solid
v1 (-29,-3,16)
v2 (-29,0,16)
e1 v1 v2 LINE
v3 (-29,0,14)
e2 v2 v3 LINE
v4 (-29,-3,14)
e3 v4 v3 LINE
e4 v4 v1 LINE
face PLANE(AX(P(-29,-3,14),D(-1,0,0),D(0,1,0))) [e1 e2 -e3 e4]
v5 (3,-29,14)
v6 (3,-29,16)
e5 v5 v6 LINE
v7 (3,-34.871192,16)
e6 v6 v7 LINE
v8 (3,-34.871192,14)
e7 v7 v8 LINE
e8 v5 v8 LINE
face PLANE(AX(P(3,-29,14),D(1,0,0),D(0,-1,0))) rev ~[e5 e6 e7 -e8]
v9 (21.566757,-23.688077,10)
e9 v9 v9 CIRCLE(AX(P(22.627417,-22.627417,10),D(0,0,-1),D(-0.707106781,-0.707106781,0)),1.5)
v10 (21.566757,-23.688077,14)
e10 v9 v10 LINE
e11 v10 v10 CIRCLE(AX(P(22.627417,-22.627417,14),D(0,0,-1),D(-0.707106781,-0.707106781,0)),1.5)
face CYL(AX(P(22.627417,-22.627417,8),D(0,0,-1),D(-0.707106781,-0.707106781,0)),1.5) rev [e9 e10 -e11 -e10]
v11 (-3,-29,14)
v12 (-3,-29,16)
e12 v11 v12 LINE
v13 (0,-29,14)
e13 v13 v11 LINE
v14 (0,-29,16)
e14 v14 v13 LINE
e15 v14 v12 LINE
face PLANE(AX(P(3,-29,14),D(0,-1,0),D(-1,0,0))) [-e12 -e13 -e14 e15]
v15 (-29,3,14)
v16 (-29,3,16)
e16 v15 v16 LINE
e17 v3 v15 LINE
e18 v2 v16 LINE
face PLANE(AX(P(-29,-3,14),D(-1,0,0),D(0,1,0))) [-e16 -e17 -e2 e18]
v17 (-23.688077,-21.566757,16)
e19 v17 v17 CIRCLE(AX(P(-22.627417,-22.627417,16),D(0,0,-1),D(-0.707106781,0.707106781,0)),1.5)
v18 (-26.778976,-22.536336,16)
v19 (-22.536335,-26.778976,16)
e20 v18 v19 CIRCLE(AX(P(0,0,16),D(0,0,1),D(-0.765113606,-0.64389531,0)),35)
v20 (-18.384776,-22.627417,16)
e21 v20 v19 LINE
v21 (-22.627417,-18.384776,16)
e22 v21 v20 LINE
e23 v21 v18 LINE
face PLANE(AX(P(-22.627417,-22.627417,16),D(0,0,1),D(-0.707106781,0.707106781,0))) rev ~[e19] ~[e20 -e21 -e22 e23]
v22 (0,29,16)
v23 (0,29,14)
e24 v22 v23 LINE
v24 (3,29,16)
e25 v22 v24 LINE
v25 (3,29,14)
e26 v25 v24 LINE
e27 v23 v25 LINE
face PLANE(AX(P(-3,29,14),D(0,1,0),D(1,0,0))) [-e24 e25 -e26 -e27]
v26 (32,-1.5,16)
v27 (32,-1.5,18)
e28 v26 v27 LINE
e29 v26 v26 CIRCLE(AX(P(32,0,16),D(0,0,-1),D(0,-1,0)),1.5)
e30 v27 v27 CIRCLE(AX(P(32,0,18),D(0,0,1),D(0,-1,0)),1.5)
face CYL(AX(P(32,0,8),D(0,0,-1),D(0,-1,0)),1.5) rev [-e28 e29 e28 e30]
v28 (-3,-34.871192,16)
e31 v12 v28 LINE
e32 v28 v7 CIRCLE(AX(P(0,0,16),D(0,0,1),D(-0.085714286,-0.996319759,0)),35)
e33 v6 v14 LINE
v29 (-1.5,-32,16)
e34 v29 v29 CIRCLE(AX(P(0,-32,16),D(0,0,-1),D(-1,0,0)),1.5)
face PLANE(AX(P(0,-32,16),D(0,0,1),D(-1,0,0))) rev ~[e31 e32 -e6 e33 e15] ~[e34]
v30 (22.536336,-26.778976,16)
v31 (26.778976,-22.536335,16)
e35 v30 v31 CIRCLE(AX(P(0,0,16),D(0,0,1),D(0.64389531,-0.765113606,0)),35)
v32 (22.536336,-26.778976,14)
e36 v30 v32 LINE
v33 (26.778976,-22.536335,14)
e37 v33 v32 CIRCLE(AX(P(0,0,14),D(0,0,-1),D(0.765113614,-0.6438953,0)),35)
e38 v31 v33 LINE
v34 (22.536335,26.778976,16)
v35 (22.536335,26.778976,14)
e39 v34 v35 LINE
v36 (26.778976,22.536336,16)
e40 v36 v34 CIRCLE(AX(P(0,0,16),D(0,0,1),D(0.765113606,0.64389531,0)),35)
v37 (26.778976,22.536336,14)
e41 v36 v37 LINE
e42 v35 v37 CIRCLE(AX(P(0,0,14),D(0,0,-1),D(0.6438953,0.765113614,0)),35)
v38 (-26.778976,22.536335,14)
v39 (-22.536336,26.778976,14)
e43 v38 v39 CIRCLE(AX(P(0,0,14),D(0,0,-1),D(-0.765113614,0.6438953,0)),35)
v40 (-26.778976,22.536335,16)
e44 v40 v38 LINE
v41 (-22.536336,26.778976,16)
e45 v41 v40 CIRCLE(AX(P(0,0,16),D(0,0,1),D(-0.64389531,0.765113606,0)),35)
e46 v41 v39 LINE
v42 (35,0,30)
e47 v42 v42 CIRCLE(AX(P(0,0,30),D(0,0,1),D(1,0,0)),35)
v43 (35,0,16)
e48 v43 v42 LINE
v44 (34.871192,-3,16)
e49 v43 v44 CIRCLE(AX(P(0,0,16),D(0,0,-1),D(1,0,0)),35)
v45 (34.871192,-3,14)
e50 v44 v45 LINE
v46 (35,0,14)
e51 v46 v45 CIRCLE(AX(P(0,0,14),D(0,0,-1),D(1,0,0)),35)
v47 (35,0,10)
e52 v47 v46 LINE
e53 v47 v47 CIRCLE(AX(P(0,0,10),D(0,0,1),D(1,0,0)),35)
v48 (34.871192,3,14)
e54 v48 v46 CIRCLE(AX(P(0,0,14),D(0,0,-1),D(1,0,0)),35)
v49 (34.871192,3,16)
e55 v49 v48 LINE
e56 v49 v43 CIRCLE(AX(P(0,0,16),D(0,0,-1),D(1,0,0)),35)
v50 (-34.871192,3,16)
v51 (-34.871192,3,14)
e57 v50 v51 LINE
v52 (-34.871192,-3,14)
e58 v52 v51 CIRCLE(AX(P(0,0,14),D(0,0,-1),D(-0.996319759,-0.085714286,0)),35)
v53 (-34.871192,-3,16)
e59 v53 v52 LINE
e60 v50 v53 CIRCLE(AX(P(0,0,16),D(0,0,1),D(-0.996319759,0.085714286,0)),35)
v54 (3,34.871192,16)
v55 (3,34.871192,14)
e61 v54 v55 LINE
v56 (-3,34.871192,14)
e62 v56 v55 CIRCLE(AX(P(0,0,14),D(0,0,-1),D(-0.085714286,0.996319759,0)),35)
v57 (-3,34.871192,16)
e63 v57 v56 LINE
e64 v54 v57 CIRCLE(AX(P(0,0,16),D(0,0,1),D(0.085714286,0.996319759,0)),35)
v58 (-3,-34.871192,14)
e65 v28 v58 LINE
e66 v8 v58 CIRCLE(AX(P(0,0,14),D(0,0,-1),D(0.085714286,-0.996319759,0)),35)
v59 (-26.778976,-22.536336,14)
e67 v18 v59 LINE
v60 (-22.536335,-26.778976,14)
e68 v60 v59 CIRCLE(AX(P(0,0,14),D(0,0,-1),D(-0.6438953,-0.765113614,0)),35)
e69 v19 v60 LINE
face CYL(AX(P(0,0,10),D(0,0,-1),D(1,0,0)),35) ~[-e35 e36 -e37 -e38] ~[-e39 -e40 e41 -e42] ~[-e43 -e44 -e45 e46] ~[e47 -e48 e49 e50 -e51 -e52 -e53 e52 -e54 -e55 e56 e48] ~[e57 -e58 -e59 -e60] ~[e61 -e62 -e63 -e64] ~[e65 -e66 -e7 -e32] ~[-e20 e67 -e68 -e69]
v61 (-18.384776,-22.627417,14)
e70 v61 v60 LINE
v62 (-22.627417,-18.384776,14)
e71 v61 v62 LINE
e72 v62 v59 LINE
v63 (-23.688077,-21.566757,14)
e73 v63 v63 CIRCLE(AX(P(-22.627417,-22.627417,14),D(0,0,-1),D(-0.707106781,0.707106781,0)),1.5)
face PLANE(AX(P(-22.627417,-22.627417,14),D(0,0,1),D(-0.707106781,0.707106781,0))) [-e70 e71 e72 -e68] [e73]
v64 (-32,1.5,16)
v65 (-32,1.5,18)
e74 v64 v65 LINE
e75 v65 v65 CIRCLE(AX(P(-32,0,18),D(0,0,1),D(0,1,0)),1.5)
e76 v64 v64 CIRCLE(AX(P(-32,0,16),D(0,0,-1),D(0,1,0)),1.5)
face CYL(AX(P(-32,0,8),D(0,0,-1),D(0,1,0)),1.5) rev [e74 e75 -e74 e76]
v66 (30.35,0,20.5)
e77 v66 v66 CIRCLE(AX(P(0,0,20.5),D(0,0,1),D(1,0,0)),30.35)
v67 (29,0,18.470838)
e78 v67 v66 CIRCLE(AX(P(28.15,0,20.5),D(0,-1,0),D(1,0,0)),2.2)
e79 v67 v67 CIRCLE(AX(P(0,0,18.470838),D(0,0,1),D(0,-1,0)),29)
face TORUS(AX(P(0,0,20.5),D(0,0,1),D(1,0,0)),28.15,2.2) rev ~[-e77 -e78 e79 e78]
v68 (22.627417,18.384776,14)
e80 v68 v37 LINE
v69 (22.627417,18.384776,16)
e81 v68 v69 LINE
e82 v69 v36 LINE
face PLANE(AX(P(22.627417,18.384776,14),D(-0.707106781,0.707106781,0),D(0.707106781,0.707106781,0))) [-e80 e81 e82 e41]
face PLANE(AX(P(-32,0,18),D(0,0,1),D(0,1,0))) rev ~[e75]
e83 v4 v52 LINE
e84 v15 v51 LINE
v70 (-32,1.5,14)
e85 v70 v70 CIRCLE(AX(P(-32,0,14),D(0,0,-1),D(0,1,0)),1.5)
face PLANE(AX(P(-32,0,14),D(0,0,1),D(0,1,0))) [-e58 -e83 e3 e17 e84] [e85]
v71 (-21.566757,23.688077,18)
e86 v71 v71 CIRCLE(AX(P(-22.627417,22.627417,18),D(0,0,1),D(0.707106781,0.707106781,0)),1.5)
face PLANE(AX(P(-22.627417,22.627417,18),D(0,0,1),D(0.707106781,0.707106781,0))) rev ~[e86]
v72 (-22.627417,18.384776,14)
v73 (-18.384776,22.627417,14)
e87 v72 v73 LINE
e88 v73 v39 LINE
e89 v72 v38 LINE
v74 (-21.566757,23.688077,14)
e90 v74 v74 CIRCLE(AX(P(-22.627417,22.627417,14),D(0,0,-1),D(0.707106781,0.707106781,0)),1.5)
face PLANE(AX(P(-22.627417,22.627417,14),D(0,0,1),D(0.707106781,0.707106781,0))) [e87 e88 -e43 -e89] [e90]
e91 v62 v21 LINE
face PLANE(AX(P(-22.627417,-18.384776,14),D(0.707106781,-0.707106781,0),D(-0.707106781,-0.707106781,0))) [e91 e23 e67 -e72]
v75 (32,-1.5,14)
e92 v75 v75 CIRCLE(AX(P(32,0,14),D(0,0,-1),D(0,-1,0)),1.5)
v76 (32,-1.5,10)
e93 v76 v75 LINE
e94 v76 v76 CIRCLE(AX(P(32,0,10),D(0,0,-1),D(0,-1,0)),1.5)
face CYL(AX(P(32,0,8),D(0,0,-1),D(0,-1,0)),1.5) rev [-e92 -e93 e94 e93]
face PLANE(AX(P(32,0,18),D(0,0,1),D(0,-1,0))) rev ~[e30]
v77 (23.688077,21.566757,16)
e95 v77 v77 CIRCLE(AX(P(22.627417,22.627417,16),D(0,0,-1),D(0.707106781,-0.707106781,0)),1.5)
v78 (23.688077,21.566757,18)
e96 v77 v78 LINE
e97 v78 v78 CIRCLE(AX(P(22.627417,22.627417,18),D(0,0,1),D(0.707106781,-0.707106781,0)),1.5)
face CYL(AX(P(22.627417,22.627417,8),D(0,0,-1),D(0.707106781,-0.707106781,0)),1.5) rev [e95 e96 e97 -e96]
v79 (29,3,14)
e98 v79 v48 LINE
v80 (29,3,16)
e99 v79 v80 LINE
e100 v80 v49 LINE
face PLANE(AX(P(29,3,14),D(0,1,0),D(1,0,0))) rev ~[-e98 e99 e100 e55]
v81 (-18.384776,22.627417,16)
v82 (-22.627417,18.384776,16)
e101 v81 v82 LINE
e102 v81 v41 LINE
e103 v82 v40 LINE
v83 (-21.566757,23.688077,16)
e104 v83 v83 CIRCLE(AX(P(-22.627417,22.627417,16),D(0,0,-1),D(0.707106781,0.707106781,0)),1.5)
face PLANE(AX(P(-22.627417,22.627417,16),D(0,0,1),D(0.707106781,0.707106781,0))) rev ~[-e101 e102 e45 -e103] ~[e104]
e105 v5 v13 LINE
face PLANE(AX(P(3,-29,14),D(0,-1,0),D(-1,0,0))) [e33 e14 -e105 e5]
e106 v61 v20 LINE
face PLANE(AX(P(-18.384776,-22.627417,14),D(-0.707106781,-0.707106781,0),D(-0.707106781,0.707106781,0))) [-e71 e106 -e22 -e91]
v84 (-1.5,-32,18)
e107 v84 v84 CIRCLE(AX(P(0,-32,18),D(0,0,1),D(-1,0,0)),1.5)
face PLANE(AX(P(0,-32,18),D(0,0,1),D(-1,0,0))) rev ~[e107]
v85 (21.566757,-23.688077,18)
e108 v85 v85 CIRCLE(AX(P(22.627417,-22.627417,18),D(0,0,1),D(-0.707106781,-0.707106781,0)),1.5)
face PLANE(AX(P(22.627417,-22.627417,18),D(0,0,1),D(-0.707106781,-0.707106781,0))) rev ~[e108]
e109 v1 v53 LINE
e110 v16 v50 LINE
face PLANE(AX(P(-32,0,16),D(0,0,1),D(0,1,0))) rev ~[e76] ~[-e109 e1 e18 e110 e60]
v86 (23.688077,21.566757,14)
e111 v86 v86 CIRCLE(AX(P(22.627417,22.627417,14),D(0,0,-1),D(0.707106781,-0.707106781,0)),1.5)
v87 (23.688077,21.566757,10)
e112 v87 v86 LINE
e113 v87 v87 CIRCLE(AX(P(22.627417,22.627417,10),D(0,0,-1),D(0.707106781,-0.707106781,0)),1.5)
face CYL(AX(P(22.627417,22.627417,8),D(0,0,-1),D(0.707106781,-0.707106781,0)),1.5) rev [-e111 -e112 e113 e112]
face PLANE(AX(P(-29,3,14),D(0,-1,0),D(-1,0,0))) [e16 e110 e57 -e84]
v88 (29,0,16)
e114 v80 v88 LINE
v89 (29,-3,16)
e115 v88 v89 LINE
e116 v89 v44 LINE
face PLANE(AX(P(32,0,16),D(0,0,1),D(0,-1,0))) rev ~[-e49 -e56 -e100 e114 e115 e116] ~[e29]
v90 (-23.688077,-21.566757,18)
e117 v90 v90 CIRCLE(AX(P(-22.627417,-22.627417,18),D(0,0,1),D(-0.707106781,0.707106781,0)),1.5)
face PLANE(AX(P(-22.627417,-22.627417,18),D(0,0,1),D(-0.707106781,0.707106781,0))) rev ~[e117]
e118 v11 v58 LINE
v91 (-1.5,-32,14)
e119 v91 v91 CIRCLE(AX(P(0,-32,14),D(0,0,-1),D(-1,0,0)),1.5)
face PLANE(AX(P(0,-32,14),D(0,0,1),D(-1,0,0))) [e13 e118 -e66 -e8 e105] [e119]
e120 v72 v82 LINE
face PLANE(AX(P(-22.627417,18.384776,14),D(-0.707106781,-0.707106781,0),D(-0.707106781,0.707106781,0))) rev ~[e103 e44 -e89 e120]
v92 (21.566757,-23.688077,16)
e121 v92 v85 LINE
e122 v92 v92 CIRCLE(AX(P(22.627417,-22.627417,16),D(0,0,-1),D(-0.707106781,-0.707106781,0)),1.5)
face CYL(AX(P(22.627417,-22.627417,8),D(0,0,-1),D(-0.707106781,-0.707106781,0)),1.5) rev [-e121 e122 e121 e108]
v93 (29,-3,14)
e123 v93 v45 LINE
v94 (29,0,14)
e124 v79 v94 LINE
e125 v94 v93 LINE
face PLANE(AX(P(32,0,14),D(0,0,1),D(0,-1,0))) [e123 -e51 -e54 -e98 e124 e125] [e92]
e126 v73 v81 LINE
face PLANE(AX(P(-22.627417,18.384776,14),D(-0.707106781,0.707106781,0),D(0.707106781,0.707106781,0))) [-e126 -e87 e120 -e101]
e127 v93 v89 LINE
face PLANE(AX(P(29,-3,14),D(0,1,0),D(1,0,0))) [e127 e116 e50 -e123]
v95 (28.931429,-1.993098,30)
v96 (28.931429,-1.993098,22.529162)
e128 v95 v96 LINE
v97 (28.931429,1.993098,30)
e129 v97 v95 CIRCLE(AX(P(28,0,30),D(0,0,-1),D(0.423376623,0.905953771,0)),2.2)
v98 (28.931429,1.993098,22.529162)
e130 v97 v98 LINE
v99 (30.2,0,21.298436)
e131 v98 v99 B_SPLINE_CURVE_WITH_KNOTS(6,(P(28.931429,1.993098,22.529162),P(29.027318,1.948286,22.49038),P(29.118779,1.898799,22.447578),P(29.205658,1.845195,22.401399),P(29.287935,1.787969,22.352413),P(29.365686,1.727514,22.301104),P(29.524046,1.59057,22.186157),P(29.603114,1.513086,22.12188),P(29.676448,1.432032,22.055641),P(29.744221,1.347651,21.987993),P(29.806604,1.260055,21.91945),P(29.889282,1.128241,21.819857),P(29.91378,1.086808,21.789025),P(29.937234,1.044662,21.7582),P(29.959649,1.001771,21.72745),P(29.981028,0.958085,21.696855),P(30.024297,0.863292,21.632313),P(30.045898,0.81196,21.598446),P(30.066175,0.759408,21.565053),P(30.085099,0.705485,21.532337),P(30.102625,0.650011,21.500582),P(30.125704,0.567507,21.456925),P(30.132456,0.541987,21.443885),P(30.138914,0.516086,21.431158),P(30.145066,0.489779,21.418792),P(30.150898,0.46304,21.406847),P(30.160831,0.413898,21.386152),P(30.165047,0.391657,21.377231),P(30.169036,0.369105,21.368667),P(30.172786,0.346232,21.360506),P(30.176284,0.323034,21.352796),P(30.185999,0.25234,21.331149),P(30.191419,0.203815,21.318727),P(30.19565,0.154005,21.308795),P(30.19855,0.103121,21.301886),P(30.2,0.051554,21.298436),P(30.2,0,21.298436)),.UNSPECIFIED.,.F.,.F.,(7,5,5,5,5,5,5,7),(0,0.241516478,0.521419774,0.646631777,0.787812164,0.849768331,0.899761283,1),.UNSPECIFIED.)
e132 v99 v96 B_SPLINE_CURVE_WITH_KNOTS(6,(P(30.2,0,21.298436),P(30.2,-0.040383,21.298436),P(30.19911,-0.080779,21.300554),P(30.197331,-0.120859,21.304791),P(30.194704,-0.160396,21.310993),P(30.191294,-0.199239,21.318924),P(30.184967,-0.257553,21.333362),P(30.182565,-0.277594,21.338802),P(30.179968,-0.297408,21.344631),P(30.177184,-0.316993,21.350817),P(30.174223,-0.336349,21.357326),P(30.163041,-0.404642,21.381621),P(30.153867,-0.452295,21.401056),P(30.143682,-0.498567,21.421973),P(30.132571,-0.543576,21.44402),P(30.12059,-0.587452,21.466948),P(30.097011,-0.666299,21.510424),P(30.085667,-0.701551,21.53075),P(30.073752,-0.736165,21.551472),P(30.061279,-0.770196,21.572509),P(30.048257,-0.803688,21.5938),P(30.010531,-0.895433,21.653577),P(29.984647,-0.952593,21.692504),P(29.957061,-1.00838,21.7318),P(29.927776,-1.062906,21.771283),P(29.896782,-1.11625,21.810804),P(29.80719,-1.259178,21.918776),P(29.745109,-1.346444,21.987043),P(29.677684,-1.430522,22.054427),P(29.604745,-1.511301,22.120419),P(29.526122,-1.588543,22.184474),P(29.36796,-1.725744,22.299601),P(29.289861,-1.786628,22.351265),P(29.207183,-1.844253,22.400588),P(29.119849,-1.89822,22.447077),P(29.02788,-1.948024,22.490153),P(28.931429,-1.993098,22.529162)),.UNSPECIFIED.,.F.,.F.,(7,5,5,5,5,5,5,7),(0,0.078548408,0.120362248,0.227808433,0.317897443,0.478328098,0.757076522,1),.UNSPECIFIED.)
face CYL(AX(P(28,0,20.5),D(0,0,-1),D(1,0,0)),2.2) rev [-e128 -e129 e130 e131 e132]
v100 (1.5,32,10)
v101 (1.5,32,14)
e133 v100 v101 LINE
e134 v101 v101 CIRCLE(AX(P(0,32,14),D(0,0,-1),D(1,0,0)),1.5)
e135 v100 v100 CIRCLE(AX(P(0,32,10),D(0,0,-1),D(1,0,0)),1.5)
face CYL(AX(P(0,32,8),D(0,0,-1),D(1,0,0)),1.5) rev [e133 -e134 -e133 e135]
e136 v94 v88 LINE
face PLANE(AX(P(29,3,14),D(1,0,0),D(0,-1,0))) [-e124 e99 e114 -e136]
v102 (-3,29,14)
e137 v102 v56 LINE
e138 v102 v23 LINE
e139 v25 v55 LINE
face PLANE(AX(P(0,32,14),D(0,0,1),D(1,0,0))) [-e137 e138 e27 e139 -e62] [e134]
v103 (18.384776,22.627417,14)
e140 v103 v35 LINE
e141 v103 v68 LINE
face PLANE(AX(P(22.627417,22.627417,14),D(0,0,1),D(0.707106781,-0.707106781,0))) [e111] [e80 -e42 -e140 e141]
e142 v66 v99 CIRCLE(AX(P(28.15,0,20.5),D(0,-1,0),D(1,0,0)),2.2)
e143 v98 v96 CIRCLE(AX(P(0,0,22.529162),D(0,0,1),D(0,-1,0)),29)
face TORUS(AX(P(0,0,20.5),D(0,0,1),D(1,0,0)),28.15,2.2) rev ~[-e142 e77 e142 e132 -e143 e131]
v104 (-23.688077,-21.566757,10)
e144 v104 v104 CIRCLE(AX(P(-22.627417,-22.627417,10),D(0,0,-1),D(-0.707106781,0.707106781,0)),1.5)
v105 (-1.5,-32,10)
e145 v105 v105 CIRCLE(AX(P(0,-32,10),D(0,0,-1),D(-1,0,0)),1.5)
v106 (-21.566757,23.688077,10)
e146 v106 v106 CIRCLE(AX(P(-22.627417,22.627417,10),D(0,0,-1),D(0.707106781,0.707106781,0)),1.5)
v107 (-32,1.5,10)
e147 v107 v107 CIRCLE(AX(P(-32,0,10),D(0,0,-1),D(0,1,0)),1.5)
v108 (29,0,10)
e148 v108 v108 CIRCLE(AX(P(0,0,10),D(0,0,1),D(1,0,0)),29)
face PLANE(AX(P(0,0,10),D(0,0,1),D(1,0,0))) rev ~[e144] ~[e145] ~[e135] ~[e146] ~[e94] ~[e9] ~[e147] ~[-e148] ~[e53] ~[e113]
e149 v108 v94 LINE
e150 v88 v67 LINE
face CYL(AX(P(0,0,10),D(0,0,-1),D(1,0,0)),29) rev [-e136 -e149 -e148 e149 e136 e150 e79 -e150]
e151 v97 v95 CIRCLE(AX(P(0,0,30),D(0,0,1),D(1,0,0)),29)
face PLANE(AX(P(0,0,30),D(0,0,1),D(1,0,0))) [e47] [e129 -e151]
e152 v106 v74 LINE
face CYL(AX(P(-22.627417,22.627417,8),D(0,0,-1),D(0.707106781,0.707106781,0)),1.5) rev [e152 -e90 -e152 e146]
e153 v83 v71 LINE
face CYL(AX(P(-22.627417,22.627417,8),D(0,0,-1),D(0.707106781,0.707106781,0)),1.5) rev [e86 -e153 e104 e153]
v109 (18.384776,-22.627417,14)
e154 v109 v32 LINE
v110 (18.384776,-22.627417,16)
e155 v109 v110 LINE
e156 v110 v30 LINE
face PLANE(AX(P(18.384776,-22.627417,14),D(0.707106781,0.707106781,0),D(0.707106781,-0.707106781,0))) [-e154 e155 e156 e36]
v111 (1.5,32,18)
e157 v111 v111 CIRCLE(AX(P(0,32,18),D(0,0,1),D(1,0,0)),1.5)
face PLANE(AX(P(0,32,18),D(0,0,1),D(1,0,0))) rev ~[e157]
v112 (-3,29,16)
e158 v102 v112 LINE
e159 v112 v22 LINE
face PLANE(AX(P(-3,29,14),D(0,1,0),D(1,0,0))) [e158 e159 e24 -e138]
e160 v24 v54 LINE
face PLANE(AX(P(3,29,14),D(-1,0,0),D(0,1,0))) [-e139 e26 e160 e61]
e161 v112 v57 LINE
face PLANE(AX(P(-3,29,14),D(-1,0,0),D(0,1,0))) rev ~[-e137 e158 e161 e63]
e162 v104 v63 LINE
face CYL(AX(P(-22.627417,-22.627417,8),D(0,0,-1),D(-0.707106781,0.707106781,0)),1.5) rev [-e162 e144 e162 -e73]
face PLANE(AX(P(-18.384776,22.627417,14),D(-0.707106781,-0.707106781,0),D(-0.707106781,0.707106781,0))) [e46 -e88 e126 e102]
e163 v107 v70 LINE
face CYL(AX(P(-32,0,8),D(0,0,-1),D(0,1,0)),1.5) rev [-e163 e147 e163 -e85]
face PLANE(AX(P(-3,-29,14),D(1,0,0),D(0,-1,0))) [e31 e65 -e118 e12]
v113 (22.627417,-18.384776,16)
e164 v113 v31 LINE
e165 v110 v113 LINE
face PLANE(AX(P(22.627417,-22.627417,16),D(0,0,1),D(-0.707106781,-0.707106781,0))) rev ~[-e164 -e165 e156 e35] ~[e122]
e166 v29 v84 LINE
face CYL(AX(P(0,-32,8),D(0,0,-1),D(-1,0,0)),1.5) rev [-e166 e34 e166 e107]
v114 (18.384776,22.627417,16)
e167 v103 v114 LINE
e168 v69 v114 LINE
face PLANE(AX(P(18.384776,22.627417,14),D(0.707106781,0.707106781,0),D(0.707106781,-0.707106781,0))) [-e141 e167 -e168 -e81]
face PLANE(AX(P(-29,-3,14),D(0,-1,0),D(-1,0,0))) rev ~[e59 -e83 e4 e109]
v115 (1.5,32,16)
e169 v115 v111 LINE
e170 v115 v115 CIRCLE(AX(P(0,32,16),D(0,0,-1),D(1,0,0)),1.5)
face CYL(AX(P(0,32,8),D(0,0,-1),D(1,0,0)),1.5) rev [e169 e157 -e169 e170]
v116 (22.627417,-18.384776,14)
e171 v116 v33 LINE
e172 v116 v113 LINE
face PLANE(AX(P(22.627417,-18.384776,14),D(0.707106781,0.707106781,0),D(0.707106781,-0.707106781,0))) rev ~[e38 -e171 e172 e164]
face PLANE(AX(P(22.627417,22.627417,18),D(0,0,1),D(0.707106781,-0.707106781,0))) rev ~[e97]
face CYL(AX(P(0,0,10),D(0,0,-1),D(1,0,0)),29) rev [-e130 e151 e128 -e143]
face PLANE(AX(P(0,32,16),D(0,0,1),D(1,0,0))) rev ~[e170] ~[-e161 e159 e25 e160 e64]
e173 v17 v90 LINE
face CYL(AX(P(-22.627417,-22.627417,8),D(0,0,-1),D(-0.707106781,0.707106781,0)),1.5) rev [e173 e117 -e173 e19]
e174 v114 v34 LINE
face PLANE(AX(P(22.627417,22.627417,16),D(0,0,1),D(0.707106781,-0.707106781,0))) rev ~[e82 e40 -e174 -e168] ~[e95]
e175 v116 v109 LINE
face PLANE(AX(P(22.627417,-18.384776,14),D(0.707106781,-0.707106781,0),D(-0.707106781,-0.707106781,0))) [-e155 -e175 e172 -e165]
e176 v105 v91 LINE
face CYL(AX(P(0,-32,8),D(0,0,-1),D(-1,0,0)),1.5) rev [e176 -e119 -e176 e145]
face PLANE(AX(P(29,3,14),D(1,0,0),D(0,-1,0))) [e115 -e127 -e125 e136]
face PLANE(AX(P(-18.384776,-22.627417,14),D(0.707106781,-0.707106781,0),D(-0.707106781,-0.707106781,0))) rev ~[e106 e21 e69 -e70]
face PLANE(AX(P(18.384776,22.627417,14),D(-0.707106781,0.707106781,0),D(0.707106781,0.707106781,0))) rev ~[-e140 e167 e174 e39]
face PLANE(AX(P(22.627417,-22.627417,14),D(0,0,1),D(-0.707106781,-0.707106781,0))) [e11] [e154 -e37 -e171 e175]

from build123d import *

# Parameters (mm, degrees)
BOX771_W                     = 6
BOX771_H                     = 6
BOX771_DEPTH                 = 2
BOX772_W                     = 6
BOX772_H                     = 6
BOX772_DEPTH                 = 2
BOX772_PLACEMENT_ANGLE       = 135
BOX769_W                     = 6
BOX769_H                     = 6
BOX769_DEPTH                 = 2
BOX767_W                     = 6
BOX767_H                     = 6
BOX767_DEPTH                 = 2
BOX767_PLACEMENT_ANGLE       = 225
BOX770_W                     = 6
BOX770_H                     = 6
BOX770_DEPTH                 = 2
BOX768_W                     = 6
BOX768_H                     = 6
BOX768_DEPTH                 = 2
BOX768_PLACEMENT_ANGLE       = 45
BOX773_W                     = 6
BOX773_H                     = 6
BOX773_DEPTH                 = 2
BOX765_W                     = 6
BOX765_H                     = 6
BOX765_DEPTH                 = 2
BOX765_PLACEMENT_ANGLE       = 45
CYLINDER1989_R               = 1.5
CYLINDER1989_DEPTH           = 10
CYLINDER1977_R               = 1.5
CYLINDER1977_DEPTH           = 10
CYLINDER1977_PLACEMENT_ANGLE = 135
CYLINDER1975_R               = 1.5
CYLINDER1975_DEPTH           = 10
CYLINDER1974_R               = 1.5
CYLINDER1974_DEPTH           = 10
CYLINDER1974_PLACEMENT_ANGLE = 225
CYLINDER1982_R               = 1.5
CYLINDER1982_DEPTH           = 10
CYLINDER1972_R               = 1.5
CYLINDER1972_DEPTH           = 10
CYLINDER1972_PLACEMENT_ANGLE = 45
CYLINDER1979_R               = 1.5
CYLINDER1979_DEPTH           = 10
CYLINDER1984_R               = 1.5
CYLINDER1984_DEPTH           = 10
CYLINDER1984_PLACEMENT_ANGLE = 45
CYLINDER1980_R               = 2.2
CYLINDER1980_DEPTH           = 10
TORUS004_R                   = 2.2
TUBE104_R                    = 35
TUBE104_R_2                  = 29
TUBE104_DEPTH                = 20


with BuildPart() as krychle771:
    # Box771 → Box771 (new body)
    with BuildSketch(Plane(origin=(-29, -3, 14), x_dir=(0, 1, 0), z_dir=(0, 0, 1))):
        with Locations((3, 3)):
            Rectangle(BOX771_W, BOX771_H)
    extrude(amount=BOX771_DEPTH)


with BuildPart() as krychle772:
    # Box772 → Box772 (new body)
    with BuildSketch(Plane.XY):
        with Locations((3, 3)):
            Rectangle(BOX772_W, BOX772_H)
    extrude(amount=BOX772_DEPTH)


with BuildPart() as krychle772_1:
    # Box772 placement: moved
    add(krychle772.part.moved(Location((-18.384776, -22.627417, 14))).rotate(Axis((-18.384776, -22.627417, 14), (0, 0, 1)), BOX772_PLACEMENT_ANGLE))


with BuildPart() as krychle769:
    # Box769 → Box769 (new body)
    with BuildSketch(Plane(origin=(3, -29, 14), x_dir=(-1, 0, 0), z_dir=(0, 0, 1))):
        with Locations((3, 3)):
            Rectangle(BOX769_W, BOX769_H)
    extrude(amount=BOX769_DEPTH)


with BuildPart() as krychle767:
    # Box767 → Box767 (new body)
    with BuildSketch(Plane.XY):
        with Locations((3, 3)):
            Rectangle(BOX767_W, BOX767_H)
    extrude(amount=BOX767_DEPTH)


with BuildPart() as krychle767_1:
    # Box767 placement: moved
    add(krychle767.part.moved(Location((22.627417, -18.384776, 14))).rotate(Axis((22.627417, -18.384776, 14), (0, 0, 1)), BOX767_PLACEMENT_ANGLE))


with BuildPart() as krychle770:
    # Box770 → Box770 (new body)
    with BuildSketch(Plane(origin=(29, 3, 14), x_dir=(0, -1, 0), z_dir=(0, 0, 1))):
        with Locations((3, 3)):
            Rectangle(BOX770_W, BOX770_H)
    extrude(amount=BOX770_DEPTH)


with BuildPart() as krychle768:
    # Box768 → Box768 (new body)
    with BuildSketch(Plane.XY):
        with Locations((3, 3)):
            Rectangle(BOX768_W, BOX768_H)
    extrude(amount=BOX768_DEPTH)


with BuildPart() as krychle768_1:
    # Box768 placement: moved
    add(krychle768.part.moved(Location((18.384776, 22.627417, 14))).rotate(Axis((18.384776, 22.627417, 14), (0, 0, -1)), BOX768_PLACEMENT_ANGLE))


with BuildPart() as krychle773:
    # Box773 → Box773 (new body)
    with BuildSketch(Plane(origin=(-3, 29, 14), x_dir=(1, 0, 0), z_dir=(0, 0, 1))):
        with Locations((3, 3)):
            Rectangle(BOX773_W, BOX773_H)
    extrude(amount=BOX773_DEPTH)


with BuildPart() as compound936:
    # Box765 → Box765 (new body)
    with BuildSketch(Plane.XY):
        with Locations((3, 3)):
            Rectangle(BOX765_W, BOX765_H)
    extrude(amount=BOX765_DEPTH)


with BuildPart() as compound936_1:
    # Box765 placement: moved
    add(compound936.part.moved(Location((-22.627417, 18.384776, 14))).rotate(Axis((-22.627417, 18.384776, 14), (0, 0, 1)), BOX765_PLACEMENT_ANGLE))

    # Compound936: union Krychle771, Krychle772, Krychle769, Krychle767, Krychle770, Krychle768, Krychle773
    add(krychle771.part)
    add(krychle772_1.part)
    add(krychle769.part)
    add(krychle767_1.part)
    add(krychle770.part)
    add(krychle768_1.part)
    add(krychle773.part)


with BuildPart() as v_lec1989:
    # Cylinder1989 → Cylinder1989 (new body)
    with BuildSketch(Plane(origin=(-32, 0, 10), x_dir=(0, 1, 0), z_dir=(0, 0, 1))):
        Circle(CYLINDER1989_R)
    extrude(amount=CYLINDER1989_DEPTH)


with BuildPart() as v_lec1977:
    # Cylinder1977 → Cylinder1977 (new body)
    with BuildSketch(Plane.XY):
        Circle(CYLINDER1977_R)
    extrude(amount=CYLINDER1977_DEPTH)


with BuildPart() as v_lec1977_1:
    # Cylinder1977 placement: moved
    add(v_lec1977.part.moved(Location((-22.627417, -22.627417, 10))).rotate(Axis((-22.627417, -22.627417, 10), (0, 0, 1)), CYLINDER1977_PLACEMENT_ANGLE))


with BuildPart() as v_lec1975:
    # Cylinder1975 → Cylinder1975 (new body)
    with BuildSketch(Plane(origin=(0, -32, 10), x_dir=(-1, 0, 0), z_dir=(0, 0, 1))):
        Circle(CYLINDER1975_R)
    extrude(amount=CYLINDER1975_DEPTH)


with BuildPart() as v_lec1974:
    # Cylinder1974 → Cylinder1974 (new body)
    with BuildSketch(Plane.XY):
        Circle(CYLINDER1974_R)
    extrude(amount=CYLINDER1974_DEPTH)


with BuildPart() as v_lec1974_1:
    # Cylinder1974 placement: moved
    add(v_lec1974.part.moved(Location((22.627417, -22.627417, 10))).rotate(Axis((22.627417, -22.627417, 10), (0, 0, 1)), CYLINDER1974_PLACEMENT_ANGLE))


with BuildPart() as v_lec1982:
    # Cylinder1982 → Cylinder1982 (new body)
    with BuildSketch(Plane(origin=(32, 0, 10), x_dir=(0, -1, 0), z_dir=(0, 0, 1))):
        Circle(CYLINDER1982_R)
    extrude(amount=CYLINDER1982_DEPTH)


with BuildPart() as v_lec1972:
    # Cylinder1972 → Cylinder1972 (new body)
    with BuildSketch(Plane.XY):
        Circle(CYLINDER1972_R)
    extrude(amount=CYLINDER1972_DEPTH)


with BuildPart() as v_lec1972_1:
    # Cylinder1972 placement: moved
    add(v_lec1972.part.moved(Location((22.627417, 22.627417, 10))).rotate(Axis((22.627417, 22.627417, 10), (0, 0, -1)), CYLINDER1972_PLACEMENT_ANGLE))


with BuildPart() as v_lec1979:
    # Cylinder1979 → Cylinder1979 (new body)
    with BuildSketch(Plane(origin=(0, 32, 10), x_dir=(1, 0, 0), z_dir=(0, 0, 1))):
        Circle(CYLINDER1979_R)
    extrude(amount=CYLINDER1979_DEPTH)


with BuildPart() as compound938:
    # Cylinder1984 → Cylinder1984 (new body)
    with BuildSketch(Plane.XY):
        Circle(CYLINDER1984_R)
    extrude(amount=CYLINDER1984_DEPTH)


with BuildPart() as compound938_1:
    # Cylinder1984 placement: moved
    add(compound938.part.moved(Location((-22.627417, 22.627417, 10))).rotate(Axis((-22.627417, 22.627417, 10), (0, 0, 1)), CYLINDER1984_PLACEMENT_ANGLE))

    # Compound938: union Válec1989, Válec1977, Válec1975, Válec1974, Válec1982, Válec1972, Válec1979
    add(v_lec1989.part)
    add(v_lec1977_1.part)
    add(v_lec1975.part)
    add(v_lec1974_1.part)
    add(v_lec1982.part)
    add(v_lec1972_1.part)
    add(v_lec1979.part)


with BuildPart() as compound938_2:
    # Compound938 placement: moved
    add(compound938_1.part.moved(Location((0, 0, -2))))


with BuildPart() as v_lec1980:
    # Cylinder1980 → Cylinder1980 (new body)
    with BuildSketch(Plane(origin=(28, 0, 20.5), x_dir=(1, 0, 0), z_dir=(0, 0, 1))):
        Circle(CYLINDER1980_R)
    extrude(amount=CYLINDER1980_DEPTH)


with BuildPart() as anuloid004:
    # Torus004 → Torus004 (revolve)
    with BuildSketch(Plane(origin=(0, 0, 20.5), x_dir=(1, 0, 0), z_dir=(0, -1, 0))):
        with Locations((28.15, 0)):
            Circle(TORUS004_R)
    revolve(axis=Axis((0, 0, 20.5), (0, 0, 1)))


with BuildPart() as gearovina_midi_loziskovina003:
    # Tube104 → Tube104 (new body)
    with BuildSketch(Plane.XY.offset(10)):
        Circle(TUBE104_R)
        Circle(TUBE104_R_2, mode=Mode.SUBTRACT)
    extrude(amount=TUBE104_DEPTH)

    # Cut598: cut Anuloid004
    add(anuloid004.part, mode=Mode.SUBTRACT)

    # Cut599: cut Válec1980
    add(v_lec1980.part, mode=Mode.SUBTRACT)

    # Cut597: cut Compound938
    add(compound938_2.part, mode=Mode.SUBTRACT)

    # Cut593: cut Compound936
    add(compound936_1.part, mode=Mode.SUBTRACT)


solid = gearovina_midi_loziskovina003.part
